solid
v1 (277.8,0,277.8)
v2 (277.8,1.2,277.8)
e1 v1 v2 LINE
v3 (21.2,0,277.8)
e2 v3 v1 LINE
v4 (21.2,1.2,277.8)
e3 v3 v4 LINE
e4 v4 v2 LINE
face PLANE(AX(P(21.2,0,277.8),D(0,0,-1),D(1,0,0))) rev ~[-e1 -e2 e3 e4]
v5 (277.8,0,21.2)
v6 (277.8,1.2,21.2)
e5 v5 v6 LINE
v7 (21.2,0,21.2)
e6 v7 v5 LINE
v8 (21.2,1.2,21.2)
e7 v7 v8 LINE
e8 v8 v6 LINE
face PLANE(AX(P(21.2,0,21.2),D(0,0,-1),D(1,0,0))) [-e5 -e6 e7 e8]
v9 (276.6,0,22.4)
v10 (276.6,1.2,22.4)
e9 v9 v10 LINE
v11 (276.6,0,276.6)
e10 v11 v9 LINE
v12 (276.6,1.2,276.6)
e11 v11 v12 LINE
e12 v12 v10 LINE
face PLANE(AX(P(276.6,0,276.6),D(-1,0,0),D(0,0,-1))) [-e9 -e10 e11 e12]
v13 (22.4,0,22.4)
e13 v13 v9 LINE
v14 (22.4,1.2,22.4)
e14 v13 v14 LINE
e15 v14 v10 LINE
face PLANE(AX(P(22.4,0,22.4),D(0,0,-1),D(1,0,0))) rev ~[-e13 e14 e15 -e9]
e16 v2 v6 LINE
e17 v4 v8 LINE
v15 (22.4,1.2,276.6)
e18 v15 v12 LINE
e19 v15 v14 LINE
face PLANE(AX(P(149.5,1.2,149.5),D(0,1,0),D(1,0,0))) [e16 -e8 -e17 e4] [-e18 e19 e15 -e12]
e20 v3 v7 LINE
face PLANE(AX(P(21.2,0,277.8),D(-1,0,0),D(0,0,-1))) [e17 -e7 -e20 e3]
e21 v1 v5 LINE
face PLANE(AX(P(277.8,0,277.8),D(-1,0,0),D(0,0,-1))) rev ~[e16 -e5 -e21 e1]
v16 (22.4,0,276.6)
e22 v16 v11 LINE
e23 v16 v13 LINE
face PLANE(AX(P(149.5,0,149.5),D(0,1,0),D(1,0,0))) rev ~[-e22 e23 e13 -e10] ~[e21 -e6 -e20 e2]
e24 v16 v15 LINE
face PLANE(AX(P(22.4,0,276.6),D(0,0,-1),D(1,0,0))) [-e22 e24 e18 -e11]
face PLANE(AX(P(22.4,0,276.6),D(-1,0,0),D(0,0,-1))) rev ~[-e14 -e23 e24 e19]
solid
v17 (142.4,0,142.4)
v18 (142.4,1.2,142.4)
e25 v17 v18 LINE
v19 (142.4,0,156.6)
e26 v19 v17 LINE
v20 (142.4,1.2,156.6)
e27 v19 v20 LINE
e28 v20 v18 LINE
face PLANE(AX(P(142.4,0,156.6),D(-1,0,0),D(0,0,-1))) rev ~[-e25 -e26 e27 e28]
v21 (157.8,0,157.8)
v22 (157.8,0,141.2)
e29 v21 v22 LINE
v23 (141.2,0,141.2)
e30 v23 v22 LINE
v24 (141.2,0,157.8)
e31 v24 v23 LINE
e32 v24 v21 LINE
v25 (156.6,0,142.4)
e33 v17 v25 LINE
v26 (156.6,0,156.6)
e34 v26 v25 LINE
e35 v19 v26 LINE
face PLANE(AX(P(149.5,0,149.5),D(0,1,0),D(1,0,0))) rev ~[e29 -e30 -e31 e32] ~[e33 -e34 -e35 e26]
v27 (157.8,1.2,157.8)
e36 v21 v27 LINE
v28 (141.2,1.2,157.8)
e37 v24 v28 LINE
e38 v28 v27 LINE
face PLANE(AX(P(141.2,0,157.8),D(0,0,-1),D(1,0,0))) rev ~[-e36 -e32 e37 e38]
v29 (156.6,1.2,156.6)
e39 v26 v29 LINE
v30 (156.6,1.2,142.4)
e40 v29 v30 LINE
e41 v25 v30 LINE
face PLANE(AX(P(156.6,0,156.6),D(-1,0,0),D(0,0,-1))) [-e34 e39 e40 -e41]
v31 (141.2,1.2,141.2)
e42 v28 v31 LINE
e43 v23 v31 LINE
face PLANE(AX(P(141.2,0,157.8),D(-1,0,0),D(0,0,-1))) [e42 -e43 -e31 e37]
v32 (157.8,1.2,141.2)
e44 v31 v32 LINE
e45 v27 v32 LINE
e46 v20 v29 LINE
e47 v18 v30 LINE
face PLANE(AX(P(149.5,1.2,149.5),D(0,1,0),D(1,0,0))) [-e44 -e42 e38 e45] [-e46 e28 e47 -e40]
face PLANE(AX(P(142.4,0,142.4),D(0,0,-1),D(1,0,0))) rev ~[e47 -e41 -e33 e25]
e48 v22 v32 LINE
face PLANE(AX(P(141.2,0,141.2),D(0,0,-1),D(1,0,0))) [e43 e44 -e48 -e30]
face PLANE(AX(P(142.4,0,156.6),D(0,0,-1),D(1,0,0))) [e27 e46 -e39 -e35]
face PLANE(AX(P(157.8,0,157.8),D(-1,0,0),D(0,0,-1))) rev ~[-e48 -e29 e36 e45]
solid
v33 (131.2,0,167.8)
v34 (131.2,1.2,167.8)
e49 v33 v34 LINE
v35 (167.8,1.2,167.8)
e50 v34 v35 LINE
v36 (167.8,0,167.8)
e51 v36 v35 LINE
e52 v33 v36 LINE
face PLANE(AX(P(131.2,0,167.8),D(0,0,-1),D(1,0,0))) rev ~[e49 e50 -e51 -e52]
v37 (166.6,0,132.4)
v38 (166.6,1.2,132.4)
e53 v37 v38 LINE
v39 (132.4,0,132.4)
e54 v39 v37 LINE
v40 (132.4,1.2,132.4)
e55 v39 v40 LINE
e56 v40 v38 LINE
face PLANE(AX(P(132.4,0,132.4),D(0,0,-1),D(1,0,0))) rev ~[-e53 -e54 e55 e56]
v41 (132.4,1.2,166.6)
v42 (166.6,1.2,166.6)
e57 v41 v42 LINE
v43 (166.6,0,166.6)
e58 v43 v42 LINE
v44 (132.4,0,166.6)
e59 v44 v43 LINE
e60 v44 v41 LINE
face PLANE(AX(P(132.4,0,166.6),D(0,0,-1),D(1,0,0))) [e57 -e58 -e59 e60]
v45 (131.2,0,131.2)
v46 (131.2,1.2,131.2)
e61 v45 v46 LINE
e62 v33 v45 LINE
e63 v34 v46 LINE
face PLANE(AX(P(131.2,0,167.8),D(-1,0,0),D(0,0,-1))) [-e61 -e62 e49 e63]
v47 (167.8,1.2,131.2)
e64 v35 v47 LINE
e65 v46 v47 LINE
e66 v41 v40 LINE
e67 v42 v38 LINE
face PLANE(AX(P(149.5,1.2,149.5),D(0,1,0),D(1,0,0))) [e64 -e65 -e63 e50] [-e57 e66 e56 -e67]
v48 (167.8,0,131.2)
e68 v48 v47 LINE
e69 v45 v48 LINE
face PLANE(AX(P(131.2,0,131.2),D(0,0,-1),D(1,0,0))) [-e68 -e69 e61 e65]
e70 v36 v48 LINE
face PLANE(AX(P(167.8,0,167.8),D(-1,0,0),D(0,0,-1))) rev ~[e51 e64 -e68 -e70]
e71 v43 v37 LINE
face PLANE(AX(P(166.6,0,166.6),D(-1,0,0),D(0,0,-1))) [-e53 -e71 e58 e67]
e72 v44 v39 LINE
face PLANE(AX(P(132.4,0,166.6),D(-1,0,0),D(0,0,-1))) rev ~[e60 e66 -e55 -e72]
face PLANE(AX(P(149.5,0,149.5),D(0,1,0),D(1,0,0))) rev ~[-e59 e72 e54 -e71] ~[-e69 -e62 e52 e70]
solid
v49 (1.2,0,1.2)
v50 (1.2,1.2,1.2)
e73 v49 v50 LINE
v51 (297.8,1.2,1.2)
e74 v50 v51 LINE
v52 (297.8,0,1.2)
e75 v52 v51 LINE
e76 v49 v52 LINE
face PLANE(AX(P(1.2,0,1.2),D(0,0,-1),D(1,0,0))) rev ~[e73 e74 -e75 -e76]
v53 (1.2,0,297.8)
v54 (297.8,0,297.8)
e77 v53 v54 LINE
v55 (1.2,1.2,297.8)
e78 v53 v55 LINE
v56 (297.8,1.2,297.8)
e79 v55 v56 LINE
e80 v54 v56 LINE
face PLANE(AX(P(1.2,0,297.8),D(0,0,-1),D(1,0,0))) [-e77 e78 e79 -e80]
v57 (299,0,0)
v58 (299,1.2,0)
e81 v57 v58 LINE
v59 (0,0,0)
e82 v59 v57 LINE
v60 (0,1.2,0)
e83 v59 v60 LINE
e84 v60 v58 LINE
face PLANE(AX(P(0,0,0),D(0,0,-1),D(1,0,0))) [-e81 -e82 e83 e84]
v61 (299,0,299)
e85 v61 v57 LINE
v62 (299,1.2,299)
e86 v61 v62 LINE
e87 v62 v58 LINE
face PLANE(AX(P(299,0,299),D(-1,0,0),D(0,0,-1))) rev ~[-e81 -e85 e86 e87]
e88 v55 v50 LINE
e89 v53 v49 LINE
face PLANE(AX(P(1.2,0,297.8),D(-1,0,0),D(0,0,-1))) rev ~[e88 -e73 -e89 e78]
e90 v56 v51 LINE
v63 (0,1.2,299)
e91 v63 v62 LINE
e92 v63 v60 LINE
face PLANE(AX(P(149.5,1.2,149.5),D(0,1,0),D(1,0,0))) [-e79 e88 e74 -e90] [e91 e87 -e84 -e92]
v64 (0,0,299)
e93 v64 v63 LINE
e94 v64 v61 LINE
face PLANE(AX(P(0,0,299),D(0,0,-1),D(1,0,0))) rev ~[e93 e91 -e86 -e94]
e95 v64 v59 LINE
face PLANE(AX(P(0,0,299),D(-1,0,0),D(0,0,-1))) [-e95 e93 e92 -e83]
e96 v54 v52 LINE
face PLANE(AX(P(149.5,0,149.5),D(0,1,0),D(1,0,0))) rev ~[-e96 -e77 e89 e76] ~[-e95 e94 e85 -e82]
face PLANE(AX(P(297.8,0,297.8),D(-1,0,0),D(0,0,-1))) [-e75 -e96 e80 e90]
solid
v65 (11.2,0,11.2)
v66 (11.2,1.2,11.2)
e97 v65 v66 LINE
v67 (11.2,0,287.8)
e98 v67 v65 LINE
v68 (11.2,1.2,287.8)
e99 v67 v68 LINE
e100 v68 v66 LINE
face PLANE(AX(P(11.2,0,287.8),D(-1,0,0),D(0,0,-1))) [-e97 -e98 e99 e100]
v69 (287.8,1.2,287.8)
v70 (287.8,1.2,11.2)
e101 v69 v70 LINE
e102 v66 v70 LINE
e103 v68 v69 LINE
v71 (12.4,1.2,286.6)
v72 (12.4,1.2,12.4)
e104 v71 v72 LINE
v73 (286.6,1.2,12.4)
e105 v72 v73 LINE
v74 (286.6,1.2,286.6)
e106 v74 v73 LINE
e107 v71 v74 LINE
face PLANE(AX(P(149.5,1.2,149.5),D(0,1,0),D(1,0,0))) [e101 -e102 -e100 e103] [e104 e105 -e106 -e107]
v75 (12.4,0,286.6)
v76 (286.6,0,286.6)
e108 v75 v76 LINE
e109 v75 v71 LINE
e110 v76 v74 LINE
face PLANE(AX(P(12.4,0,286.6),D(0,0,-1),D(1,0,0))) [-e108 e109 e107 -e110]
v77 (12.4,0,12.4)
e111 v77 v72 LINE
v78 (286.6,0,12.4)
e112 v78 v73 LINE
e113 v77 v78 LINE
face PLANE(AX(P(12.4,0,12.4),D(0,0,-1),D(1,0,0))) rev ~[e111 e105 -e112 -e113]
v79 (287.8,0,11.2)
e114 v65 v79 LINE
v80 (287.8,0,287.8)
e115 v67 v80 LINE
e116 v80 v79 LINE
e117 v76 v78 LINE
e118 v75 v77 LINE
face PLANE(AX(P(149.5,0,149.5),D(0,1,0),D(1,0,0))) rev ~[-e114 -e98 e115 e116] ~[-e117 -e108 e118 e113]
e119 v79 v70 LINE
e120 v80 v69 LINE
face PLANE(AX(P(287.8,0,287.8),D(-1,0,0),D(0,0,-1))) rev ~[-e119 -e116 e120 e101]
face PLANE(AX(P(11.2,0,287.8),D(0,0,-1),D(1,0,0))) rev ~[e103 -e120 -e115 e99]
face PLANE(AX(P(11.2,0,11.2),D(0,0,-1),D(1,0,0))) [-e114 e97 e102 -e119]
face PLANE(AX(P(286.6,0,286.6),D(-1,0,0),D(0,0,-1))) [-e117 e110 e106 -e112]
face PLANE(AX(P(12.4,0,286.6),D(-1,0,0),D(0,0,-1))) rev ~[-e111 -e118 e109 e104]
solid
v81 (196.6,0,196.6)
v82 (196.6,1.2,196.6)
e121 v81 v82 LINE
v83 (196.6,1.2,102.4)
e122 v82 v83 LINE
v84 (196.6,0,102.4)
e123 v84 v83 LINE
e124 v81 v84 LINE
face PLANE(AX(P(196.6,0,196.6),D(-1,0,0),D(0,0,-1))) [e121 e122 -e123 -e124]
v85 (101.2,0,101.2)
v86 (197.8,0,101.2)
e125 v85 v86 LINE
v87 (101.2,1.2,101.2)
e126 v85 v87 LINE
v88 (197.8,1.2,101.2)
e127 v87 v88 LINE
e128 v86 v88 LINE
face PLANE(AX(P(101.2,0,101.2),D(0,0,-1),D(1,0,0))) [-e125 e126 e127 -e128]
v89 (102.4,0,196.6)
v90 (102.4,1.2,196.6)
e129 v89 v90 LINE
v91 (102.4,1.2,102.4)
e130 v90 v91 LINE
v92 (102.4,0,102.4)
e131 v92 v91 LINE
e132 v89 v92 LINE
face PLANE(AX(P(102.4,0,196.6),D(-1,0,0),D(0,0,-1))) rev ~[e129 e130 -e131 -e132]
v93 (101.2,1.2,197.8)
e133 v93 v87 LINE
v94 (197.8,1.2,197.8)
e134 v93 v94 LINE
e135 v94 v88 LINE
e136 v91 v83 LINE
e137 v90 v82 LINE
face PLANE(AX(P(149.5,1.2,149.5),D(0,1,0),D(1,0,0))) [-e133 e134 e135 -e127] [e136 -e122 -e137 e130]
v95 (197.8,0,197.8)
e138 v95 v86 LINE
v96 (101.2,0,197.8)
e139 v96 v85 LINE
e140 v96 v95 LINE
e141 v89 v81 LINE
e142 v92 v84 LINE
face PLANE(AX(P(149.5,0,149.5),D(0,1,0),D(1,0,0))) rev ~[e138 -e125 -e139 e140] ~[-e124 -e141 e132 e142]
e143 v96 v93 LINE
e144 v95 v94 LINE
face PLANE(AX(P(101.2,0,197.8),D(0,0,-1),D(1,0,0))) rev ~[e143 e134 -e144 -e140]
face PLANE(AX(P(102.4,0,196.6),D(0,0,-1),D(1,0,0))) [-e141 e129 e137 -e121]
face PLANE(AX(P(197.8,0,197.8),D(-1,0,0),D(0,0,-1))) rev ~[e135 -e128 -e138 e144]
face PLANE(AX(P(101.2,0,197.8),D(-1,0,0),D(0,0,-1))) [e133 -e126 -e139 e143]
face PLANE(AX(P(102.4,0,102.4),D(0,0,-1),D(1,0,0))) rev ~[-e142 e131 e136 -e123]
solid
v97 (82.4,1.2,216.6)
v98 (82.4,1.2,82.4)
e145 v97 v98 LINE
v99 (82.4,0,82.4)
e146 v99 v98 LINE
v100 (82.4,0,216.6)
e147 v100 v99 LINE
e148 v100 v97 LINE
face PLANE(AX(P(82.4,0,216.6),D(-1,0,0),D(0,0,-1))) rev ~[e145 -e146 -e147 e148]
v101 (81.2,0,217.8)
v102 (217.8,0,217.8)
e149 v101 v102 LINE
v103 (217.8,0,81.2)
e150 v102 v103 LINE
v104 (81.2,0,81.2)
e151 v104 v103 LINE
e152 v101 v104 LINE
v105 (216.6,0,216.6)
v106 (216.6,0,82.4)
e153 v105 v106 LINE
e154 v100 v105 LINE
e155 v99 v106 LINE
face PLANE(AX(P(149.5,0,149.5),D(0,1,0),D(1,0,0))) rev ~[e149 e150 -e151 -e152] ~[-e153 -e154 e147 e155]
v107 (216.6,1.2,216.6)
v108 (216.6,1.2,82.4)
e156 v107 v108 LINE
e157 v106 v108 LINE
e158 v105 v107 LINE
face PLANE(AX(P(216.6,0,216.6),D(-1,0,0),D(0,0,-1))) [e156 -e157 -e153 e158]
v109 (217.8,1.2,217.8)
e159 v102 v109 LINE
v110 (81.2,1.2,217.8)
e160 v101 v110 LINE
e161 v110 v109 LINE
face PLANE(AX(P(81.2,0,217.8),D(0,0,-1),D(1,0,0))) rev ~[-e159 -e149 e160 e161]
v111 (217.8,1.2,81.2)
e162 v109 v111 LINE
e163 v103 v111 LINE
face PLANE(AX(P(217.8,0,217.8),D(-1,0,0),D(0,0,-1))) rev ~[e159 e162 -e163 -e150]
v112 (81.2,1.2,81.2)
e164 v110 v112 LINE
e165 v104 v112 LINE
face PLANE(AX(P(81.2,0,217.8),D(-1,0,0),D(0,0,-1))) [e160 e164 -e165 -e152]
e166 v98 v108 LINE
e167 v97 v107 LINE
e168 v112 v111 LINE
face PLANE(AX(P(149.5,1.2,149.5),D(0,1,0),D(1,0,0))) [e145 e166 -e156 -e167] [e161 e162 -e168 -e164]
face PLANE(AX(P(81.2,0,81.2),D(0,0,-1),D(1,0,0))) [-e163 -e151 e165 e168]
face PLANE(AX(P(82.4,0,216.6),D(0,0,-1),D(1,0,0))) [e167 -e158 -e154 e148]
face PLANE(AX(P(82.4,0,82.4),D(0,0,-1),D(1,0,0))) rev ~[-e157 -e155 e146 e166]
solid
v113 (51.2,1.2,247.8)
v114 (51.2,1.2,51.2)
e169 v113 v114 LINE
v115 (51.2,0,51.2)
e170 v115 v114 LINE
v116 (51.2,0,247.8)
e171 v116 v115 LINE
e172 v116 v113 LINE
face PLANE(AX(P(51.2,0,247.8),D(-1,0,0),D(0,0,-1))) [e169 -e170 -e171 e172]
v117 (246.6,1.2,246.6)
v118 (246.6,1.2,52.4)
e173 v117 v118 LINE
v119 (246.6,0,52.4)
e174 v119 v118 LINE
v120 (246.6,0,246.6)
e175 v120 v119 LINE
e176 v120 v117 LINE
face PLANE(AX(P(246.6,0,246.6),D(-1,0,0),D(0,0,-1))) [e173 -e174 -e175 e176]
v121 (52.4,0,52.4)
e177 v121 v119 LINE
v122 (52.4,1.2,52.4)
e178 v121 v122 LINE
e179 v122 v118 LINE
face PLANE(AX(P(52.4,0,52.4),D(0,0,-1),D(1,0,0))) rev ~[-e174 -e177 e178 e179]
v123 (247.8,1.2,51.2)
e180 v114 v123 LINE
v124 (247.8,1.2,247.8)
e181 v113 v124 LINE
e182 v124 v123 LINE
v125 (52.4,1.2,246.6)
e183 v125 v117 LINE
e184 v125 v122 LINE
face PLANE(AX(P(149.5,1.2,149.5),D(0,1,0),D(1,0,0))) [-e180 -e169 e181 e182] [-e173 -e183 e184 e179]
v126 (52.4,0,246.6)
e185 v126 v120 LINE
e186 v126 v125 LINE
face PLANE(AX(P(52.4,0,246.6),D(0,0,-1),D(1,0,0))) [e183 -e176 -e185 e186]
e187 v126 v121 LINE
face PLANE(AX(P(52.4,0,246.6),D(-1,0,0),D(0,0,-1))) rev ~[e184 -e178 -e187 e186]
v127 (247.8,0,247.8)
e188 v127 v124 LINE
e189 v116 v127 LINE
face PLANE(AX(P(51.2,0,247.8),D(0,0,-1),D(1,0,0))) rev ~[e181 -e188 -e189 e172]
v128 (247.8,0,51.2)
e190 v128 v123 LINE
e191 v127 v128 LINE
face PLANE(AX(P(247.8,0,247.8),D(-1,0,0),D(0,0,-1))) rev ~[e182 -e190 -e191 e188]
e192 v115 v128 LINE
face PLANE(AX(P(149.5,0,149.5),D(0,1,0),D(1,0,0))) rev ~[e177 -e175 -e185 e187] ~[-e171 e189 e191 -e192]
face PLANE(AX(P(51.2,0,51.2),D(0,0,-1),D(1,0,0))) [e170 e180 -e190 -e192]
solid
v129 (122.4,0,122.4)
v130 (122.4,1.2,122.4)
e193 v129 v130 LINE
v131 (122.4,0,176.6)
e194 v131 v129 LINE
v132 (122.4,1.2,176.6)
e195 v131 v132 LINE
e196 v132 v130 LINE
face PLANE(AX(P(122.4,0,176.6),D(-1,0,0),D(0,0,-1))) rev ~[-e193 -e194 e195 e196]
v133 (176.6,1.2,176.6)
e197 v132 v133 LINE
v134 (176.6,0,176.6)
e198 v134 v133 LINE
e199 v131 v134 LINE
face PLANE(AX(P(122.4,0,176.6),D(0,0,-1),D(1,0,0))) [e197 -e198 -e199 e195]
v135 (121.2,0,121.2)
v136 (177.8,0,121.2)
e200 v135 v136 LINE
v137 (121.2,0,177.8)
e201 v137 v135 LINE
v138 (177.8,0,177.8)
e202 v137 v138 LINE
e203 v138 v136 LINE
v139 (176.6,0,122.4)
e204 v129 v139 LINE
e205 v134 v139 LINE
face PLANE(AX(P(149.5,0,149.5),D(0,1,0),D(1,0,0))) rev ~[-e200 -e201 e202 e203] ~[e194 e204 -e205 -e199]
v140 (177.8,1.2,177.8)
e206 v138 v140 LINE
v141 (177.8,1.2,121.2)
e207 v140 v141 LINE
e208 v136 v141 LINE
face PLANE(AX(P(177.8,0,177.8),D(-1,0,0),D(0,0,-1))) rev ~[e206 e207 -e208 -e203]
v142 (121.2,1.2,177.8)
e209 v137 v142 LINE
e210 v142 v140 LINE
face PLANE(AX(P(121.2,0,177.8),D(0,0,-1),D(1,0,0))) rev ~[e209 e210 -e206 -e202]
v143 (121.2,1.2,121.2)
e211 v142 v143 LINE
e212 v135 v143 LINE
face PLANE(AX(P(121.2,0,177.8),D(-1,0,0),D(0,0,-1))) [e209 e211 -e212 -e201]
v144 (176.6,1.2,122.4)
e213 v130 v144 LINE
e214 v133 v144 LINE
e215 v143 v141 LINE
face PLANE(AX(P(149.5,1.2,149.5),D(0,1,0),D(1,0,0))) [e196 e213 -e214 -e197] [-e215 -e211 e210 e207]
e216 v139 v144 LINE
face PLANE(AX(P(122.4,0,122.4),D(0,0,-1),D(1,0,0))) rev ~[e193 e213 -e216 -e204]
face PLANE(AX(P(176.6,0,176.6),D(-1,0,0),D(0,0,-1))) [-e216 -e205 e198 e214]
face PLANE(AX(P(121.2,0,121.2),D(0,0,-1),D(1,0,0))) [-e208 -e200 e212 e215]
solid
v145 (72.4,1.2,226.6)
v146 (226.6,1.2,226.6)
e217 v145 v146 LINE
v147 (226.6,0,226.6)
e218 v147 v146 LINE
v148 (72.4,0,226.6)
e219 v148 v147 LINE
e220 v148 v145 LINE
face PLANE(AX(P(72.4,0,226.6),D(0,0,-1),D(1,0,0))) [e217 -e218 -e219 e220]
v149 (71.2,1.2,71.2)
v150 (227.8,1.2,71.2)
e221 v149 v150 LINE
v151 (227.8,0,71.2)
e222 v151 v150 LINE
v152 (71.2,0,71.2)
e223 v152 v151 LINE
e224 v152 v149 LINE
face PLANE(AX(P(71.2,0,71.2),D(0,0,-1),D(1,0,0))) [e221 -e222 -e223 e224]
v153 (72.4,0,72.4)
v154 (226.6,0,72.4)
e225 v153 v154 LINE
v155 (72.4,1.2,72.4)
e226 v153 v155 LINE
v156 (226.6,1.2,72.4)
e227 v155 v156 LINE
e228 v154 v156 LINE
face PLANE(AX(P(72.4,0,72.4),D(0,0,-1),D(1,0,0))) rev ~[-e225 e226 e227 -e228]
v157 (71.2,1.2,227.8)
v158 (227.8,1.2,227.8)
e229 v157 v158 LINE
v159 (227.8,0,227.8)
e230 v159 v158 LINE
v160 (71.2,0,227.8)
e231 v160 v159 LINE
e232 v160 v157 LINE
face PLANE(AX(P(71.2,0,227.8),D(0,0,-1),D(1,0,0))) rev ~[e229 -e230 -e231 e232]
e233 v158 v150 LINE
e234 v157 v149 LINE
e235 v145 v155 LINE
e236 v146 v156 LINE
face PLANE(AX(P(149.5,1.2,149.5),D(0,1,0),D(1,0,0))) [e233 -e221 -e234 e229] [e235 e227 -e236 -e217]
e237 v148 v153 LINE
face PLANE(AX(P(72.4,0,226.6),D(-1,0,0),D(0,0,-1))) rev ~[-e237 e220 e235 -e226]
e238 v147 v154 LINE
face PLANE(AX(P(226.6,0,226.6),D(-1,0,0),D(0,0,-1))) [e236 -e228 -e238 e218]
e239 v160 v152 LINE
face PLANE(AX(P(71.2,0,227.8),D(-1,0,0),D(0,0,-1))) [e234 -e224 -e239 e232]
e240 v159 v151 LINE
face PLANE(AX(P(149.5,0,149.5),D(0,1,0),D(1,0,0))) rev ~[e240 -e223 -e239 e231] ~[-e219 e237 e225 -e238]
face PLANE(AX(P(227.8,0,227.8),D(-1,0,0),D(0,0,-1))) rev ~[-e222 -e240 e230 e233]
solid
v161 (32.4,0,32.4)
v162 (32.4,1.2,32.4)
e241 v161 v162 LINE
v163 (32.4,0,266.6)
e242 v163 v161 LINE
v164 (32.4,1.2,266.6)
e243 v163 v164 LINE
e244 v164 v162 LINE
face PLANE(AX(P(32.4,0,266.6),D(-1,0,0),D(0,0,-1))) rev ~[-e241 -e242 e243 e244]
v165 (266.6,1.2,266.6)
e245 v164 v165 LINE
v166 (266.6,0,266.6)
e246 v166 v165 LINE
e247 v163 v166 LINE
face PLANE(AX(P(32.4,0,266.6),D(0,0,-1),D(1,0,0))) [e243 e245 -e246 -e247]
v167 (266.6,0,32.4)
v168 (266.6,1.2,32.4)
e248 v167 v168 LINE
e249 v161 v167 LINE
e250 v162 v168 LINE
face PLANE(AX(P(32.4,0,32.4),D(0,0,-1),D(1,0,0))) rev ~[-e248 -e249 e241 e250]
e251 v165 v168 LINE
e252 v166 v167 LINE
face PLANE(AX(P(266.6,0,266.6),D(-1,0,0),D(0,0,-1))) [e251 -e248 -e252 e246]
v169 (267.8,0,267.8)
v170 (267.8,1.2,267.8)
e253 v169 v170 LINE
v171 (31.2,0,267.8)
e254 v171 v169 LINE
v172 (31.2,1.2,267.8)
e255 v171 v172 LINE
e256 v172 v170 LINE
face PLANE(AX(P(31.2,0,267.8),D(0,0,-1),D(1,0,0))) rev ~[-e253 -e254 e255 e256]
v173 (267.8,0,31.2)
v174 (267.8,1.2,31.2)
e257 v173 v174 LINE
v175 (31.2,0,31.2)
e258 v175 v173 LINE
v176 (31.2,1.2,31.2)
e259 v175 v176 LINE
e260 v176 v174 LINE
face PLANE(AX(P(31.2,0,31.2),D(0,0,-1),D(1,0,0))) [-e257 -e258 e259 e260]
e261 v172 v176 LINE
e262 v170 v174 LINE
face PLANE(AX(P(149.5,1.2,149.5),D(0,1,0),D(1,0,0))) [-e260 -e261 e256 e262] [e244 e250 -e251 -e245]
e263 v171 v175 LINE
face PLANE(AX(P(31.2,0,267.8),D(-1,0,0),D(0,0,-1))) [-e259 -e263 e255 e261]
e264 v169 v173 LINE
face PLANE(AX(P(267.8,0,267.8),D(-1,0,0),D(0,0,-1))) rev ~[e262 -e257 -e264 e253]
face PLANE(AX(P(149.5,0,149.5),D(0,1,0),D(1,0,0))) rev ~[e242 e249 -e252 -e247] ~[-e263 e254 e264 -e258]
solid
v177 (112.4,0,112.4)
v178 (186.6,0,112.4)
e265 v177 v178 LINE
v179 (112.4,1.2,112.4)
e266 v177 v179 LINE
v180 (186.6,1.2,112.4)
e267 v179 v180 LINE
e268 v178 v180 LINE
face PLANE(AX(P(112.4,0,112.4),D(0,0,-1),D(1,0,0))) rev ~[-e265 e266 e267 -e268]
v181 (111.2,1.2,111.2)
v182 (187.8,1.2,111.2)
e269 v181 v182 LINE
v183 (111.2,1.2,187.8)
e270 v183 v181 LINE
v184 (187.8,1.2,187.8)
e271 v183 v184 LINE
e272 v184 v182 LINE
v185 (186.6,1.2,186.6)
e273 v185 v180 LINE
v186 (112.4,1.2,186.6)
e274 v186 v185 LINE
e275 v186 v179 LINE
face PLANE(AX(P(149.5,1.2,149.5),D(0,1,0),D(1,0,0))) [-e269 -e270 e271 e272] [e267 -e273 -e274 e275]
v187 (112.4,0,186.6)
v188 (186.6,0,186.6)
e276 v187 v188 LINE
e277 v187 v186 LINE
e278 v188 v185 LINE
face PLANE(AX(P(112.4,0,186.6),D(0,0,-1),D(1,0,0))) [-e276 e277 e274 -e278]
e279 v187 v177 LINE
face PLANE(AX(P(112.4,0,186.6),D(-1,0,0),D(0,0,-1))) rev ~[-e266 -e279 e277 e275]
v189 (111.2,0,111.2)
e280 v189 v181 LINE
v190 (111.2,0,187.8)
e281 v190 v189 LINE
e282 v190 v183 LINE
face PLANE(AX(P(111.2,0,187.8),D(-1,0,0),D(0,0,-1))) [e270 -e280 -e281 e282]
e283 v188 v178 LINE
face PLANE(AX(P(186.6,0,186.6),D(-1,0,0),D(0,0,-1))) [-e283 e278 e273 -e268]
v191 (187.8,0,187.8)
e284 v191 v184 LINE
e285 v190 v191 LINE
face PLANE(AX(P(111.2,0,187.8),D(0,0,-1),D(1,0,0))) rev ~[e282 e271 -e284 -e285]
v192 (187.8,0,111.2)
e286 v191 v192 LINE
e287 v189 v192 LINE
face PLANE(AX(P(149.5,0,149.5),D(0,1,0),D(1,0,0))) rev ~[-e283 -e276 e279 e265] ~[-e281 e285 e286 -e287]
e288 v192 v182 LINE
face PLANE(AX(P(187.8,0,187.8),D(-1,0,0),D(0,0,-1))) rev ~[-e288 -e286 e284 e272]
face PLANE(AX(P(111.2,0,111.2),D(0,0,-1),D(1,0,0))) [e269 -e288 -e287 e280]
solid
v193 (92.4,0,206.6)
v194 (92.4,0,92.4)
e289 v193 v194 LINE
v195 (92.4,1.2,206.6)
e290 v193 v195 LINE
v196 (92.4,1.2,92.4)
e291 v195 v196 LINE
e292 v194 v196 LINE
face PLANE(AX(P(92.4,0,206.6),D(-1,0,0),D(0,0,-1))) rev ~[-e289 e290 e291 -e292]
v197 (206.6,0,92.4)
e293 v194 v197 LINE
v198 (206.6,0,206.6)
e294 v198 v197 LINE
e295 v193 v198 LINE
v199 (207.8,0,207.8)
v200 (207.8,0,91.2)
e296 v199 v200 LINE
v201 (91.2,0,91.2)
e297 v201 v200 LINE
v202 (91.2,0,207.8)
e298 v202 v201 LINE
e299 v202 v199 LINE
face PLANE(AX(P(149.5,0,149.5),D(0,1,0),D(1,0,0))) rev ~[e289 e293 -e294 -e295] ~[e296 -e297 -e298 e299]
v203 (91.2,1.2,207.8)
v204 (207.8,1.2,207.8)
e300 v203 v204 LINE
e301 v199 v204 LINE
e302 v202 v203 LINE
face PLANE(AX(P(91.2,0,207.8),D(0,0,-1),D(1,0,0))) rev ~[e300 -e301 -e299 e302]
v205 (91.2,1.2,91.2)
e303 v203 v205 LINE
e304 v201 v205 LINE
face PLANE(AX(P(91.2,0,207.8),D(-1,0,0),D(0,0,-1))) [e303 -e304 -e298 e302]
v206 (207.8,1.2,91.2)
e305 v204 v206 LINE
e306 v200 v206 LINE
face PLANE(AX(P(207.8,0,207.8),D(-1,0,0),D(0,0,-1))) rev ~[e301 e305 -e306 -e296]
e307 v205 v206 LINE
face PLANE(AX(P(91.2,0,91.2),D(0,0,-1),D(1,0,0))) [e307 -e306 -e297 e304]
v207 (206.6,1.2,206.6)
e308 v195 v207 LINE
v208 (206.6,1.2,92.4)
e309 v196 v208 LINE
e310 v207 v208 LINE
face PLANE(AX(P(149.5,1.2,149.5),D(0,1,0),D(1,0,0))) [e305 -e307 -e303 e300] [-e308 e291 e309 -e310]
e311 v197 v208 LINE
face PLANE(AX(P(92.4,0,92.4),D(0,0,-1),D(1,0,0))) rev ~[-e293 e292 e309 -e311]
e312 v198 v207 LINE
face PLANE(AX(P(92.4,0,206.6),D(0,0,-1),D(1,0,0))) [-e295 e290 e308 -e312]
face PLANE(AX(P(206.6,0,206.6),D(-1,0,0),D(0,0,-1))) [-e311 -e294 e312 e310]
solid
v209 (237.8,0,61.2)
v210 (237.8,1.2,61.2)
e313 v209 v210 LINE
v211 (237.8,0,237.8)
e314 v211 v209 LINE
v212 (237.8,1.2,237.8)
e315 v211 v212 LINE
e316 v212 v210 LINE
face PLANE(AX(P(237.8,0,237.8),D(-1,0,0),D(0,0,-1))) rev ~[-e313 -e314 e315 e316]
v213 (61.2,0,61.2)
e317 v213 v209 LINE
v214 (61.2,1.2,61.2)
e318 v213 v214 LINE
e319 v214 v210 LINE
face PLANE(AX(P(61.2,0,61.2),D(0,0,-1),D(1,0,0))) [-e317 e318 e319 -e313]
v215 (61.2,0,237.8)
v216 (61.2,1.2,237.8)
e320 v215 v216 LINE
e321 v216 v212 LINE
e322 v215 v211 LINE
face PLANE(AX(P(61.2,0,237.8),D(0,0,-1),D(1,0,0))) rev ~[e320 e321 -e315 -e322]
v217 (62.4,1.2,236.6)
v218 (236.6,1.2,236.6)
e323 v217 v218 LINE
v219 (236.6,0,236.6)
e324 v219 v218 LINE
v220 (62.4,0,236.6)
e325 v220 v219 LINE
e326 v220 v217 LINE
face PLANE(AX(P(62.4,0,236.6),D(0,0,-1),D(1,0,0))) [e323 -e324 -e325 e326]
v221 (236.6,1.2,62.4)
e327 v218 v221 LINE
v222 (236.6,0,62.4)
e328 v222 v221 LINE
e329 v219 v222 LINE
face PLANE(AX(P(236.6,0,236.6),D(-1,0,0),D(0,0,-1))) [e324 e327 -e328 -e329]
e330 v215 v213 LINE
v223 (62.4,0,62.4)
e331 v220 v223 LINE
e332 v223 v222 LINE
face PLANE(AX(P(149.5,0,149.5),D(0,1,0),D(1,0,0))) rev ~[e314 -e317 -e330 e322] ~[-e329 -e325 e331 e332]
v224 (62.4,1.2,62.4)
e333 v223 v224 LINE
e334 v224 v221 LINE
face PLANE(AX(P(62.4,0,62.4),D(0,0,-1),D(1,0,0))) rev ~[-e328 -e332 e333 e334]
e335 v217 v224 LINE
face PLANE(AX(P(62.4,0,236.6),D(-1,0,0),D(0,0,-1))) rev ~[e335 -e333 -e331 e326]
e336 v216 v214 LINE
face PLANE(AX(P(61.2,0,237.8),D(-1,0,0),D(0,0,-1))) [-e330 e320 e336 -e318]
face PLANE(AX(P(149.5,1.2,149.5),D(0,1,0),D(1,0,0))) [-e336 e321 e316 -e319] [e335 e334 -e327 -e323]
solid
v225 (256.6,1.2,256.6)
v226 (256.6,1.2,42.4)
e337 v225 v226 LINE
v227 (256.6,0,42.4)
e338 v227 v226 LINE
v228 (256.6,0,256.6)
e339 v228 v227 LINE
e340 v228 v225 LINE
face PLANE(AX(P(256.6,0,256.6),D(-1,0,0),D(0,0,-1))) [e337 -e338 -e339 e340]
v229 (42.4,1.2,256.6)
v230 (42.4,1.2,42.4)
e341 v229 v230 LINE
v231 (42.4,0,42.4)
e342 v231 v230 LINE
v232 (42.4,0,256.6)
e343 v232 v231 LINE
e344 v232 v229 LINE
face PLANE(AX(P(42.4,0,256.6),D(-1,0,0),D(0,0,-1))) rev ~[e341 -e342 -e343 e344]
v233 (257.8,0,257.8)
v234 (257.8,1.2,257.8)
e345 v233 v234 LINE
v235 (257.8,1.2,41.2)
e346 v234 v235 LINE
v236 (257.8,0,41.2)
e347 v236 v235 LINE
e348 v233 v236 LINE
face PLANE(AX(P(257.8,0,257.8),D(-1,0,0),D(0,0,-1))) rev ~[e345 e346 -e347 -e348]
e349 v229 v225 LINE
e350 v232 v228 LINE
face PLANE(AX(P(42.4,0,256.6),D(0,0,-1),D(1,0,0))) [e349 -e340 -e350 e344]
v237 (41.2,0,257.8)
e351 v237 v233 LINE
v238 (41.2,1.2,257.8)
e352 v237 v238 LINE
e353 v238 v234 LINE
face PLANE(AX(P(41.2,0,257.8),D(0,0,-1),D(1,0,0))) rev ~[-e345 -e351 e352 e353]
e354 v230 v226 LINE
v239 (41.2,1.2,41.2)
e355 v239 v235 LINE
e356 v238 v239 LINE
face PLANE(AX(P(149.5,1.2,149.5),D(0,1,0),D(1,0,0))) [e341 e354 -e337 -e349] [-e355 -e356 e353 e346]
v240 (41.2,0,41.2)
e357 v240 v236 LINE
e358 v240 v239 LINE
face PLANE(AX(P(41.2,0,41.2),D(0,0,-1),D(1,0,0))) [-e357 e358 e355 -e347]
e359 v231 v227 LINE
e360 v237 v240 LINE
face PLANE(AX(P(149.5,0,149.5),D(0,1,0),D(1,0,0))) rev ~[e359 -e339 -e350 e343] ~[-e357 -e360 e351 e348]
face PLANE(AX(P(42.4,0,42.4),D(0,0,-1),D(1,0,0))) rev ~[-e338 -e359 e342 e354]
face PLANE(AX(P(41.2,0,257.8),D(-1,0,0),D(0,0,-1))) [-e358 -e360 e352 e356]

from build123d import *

# Parameters (mm, degrees)
SKETCH1_W              = 299
SKETCH1_H              = 299
SKETCH1_W_2            = 296.6
SKETCH1_H_2            = 296.6
BOSS_EXTRUDE2_DEPTH    = 1.2
SKETCH1_W_3            = 276.6
SKETCH1_H_3            = 276.6
SKETCH1_W_4            = 274.2
SKETCH1_H_4            = 274.2
BOSS_EXTRUDE2_2_DEPTH  = 1.2
SKETCH1_W_5            = 256.6
SKETCH1_H_5            = 256.6
SKETCH1_W_6            = 254.2
SKETCH1_H_6            = 254.2
BOSS_EXTRUDE2_3_DEPTH  = 1.2
SKETCH1_W_7            = 236.6
SKETCH1_H_7            = 236.6
SKETCH1_W_8            = 234.2
SKETCH1_H_8            = 234.2
BOSS_EXTRUDE2_4_DEPTH  = 1.2
SKETCH1_W_9            = 216.6
SKETCH1_H_9            = 216.6
SKETCH1_W_10           = 214.2
SKETCH1_H_10           = 214.2
BOSS_EXTRUDE2_5_DEPTH  = 1.2
SKETCH1_W_11           = 196.6
SKETCH1_H_11           = 196.6
SKETCH1_W_12           = 194.2
SKETCH1_H_12           = 194.2
BOSS_EXTRUDE2_6_DEPTH  = 1.2
SKETCH1_W_13           = 176.6
SKETCH1_H_13           = 176.6
SKETCH1_W_14           = 174.2
SKETCH1_H_14           = 174.2
BOSS_EXTRUDE2_7_DEPTH  = 1.2
SKETCH1_W_15           = 156.6
SKETCH1_H_15           = 156.6
SKETCH1_W_16           = 154.2
SKETCH1_H_16           = 154.2
BOSS_EXTRUDE2_8_DEPTH  = 1.2
SKETCH1_W_17           = 136.6
SKETCH1_H_17           = 136.6
SKETCH1_W_18           = 134.2
SKETCH1_H_18           = 134.2
BOSS_EXTRUDE2_9_DEPTH  = 1.2
SKETCH1_W_19           = 116.6
SKETCH1_H_19           = 116.6
SKETCH1_W_20           = 114.2
SKETCH1_H_20           = 114.2
BOSS_EXTRUDE2_10_DEPTH = 1.2
SKETCH1_W_21           = 96.6
SKETCH1_H_21           = 96.6
SKETCH1_W_22           = 94.2
SKETCH1_H_22           = 94.2
BOSS_EXTRUDE2_11_DEPTH = 1.2
SKETCH1_W_23           = 76.6
SKETCH1_H_23           = 76.6
SKETCH1_W_24           = 74.2
SKETCH1_H_24           = 74.2
BOSS_EXTRUDE2_12_DEPTH = 1.2
SKETCH1_W_25           = 56.6
SKETCH1_H_25           = 56.6
SKETCH1_W_26           = 54.2
SKETCH1_H_26           = 54.2
BOSS_EXTRUDE2_13_DEPTH = 1.2
SKETCH1_W_27           = 36.6
SKETCH1_H_27           = 36.6
SKETCH1_W_28           = 34.2
SKETCH1_H_28           = 34.2
BOSS_EXTRUDE2_14_DEPTH = 1.2
SKETCH1_W_29           = 16.6
SKETCH1_H_29           = 16.6
SKETCH1_W_30           = 14.2
SKETCH1_H_30           = 14.2
BOSS_EXTRUDE2_15_DEPTH = 1.2


with BuildPart() as part:
    # Sketch1 → Boss-Extrude2 (new body)
    with BuildSketch(Plane(origin=(0, 0, 0), x_dir=(1, 0, 0), z_dir=(0, 1, 0))):
        with Locations((149.5, -149.5)):
            Rectangle(SKETCH1_W, SKETCH1_H)
        with Locations((149.5, -149.5)):
            Rectangle(SKETCH1_W_2, SKETCH1_H_2, mode=Mode.SUBTRACT)
    extrude(amount=BOSS_EXTRUDE2_DEPTH)


with BuildPart() as body_2:
    # Sketch1 → Boss-Extrude2 2 (new body)
    with BuildSketch(Plane(origin=(0, 0, 0), x_dir=(1, 0, 0), z_dir=(0, 1, 0))):
        with Locations((149.5, -149.5)):
            Rectangle(SKETCH1_W_3, SKETCH1_H_3)
        with Locations((149.5, -149.5)):
            Rectangle(SKETCH1_W_4, SKETCH1_H_4, mode=Mode.SUBTRACT)
    extrude(amount=BOSS_EXTRUDE2_2_DEPTH)


with BuildPart() as body_3:
    # Sketch1 → Boss-Extrude2 3 (new body)
    with BuildSketch(Plane(origin=(0, 0, 0), x_dir=(1, 0, 0), z_dir=(0, 1, 0))):
        with Locations((149.5, -149.5)):
            Rectangle(SKETCH1_W_5, SKETCH1_H_5)
        with Locations((149.5, -149.5)):
            Rectangle(SKETCH1_W_6, SKETCH1_H_6, mode=Mode.SUBTRACT)
    extrude(amount=BOSS_EXTRUDE2_3_DEPTH)


with BuildPart() as body_4:
    # Sketch1 → Boss-Extrude2 4 (new body)
    with BuildSketch(Plane(origin=(0, 0, 0), x_dir=(1, 0, 0), z_dir=(0, 1, 0))):
        with Locations((149.5, -149.5)):
            Rectangle(SKETCH1_W_7, SKETCH1_H_7)
        with Locations((149.5, -149.5)):
            Rectangle(SKETCH1_W_8, SKETCH1_H_8, mode=Mode.SUBTRACT)
    extrude(amount=BOSS_EXTRUDE2_4_DEPTH)


with BuildPart() as body_5:
    # Sketch1 → Boss-Extrude2 5 (new body)
    with BuildSketch(Plane(origin=(0, 0, 0), x_dir=(1, 0, 0), z_dir=(0, 1, 0))):
        with Locations((149.5, -149.5)):
            Rectangle(SKETCH1_W_9, SKETCH1_H_9)
        with Locations((149.5, -149.5)):
            Rectangle(SKETCH1_W_10, SKETCH1_H_10, mode=Mode.SUBTRACT)
    extrude(amount=BOSS_EXTRUDE2_5_DEPTH)


with BuildPart() as body_6:
    # Sketch1 → Boss-Extrude2 6 (new body)
    with BuildSketch(Plane(origin=(0, 0, 0), x_dir=(1, 0, 0), z_dir=(0, 1, 0))):
        with Locations((149.5, -149.5)):
            Rectangle(SKETCH1_W_11, SKETCH1_H_11)
        with Locations((149.5, -149.5)):
            Rectangle(SKETCH1_W_12, SKETCH1_H_12, mode=Mode.SUBTRACT)
    extrude(amount=BOSS_EXTRUDE2_6_DEPTH)


with BuildPart() as body_7:
    # Sketch1 → Boss-Extrude2 7 (new body)
    with BuildSketch(Plane(origin=(0, 0, 0), x_dir=(1, 0, 0), z_dir=(0, 1, 0))):
        with Locations((149.5, -149.5)):
            Rectangle(SKETCH1_W_13, SKETCH1_H_13)
        with Locations((149.5, -149.5)):
            Rectangle(SKETCH1_W_14, SKETCH1_H_14, mode=Mode.SUBTRACT)
    extrude(amount=BOSS_EXTRUDE2_7_DEPTH)


with BuildPart() as body_8:
    # Sketch1 → Boss-Extrude2 8 (new body)
    with BuildSketch(Plane(origin=(0, 0, 0), x_dir=(1, 0, 0), z_dir=(0, 1, 0))):
        with Locations((149.5, -149.5)):
            Rectangle(SKETCH1_W_15, SKETCH1_H_15)
        with Locations((149.5, -149.5)):
            Rectangle(SKETCH1_W_16, SKETCH1_H_16, mode=Mode.SUBTRACT)
    extrude(amount=BOSS_EXTRUDE2_8_DEPTH)


with BuildPart() as body_9:
    # Sketch1 → Boss-Extrude2 9 (new body)
    with BuildSketch(Plane(origin=(0, 0, 0), x_dir=(1, 0, 0), z_dir=(0, 1, 0))):
        with Locations((149.5, -149.5)):
            Rectangle(SKETCH1_W_17, SKETCH1_H_17)
        with Locations((149.5, -149.5)):
            Rectangle(SKETCH1_W_18, SKETCH1_H_18, mode=Mode.SUBTRACT)
    extrude(amount=BOSS_EXTRUDE2_9_DEPTH)


with BuildPart() as body_10:
    # Sketch1 → Boss-Extrude2 10 (new body)
    with BuildSketch(Plane(origin=(0, 0, 0), x_dir=(1, 0, 0), z_dir=(0, 1, 0))):
        with Locations((149.5, -149.5)):
            Rectangle(SKETCH1_W_19, SKETCH1_H_19)
        with Locations((149.5, -149.5)):
            Rectangle(SKETCH1_W_20, SKETCH1_H_20, mode=Mode.SUBTRACT)
    extrude(amount=BOSS_EXTRUDE2_10_DEPTH)


with BuildPart() as body_11:
    # Sketch1 → Boss-Extrude2 11 (new body)
    with BuildSketch(Plane(origin=(0, 0, 0), x_dir=(1, 0, 0), z_dir=(0, 1, 0))):
        with Locations((149.5, -149.5)):
            Rectangle(SKETCH1_W_21, SKETCH1_H_21)
        with Locations((149.5, -149.5)):
            Rectangle(SKETCH1_W_22, SKETCH1_H_22, mode=Mode.SUBTRACT)
    extrude(amount=BOSS_EXTRUDE2_11_DEPTH)


with BuildPart() as body_12:
    # Sketch1 → Boss-Extrude2 12 (new body)
    with BuildSketch(Plane(origin=(0, 0, 0), x_dir=(1, 0, 0), z_dir=(0, 1, 0))):
        with Locations((149.5, -149.5)):
            Rectangle(SKETCH1_W_23, SKETCH1_H_23)
        with Locations((149.5, -149.5)):
            Rectangle(SKETCH1_W_24, SKETCH1_H_24, mode=Mode.SUBTRACT)
    extrude(amount=BOSS_EXTRUDE2_12_DEPTH)


with BuildPart() as body_13:
    # Sketch1 → Boss-Extrude2 13 (new body)
    with BuildSketch(Plane(origin=(0, 0, 0), x_dir=(1, 0, 0), z_dir=(0, 1, 0))):
        with Locations((149.5, -149.5)):
            Rectangle(SKETCH1_W_25, SKETCH1_H_25)
        with Locations((149.5, -149.5)):
            Rectangle(SKETCH1_W_26, SKETCH1_H_26, mode=Mode.SUBTRACT)
    extrude(amount=BOSS_EXTRUDE2_13_DEPTH)


with BuildPart() as body_14:
    # Sketch1 → Boss-Extrude2 14 (new body)
    with BuildSketch(Plane(origin=(0, 0, 0), x_dir=(1, 0, 0), z_dir=(0, 1, 0))):
        with Locations((149.5, -149.5)):
            Rectangle(SKETCH1_W_27, SKETCH1_H_27)
        with Locations((149.5, -149.5)):
            Rectangle(SKETCH1_W_28, SKETCH1_H_28, mode=Mode.SUBTRACT)
    extrude(amount=BOSS_EXTRUDE2_14_DEPTH)


with BuildPart() as body_15:
    # Sketch1 → Boss-Extrude2 15 (new body)
    with BuildSketch(Plane(origin=(0, 0, 0), x_dir=(1, 0, 0), z_dir=(0, 1, 0))):
        with Locations((149.5, -149.5)):
            Rectangle(SKETCH1_W_29, SKETCH1_H_29)
        with Locations((149.5, -149.5)):
            Rectangle(SKETCH1_W_30, SKETCH1_H_30, mode=Mode.SUBTRACT)
    extrude(amount=BOSS_EXTRUDE2_15_DEPTH)


solid = Compound([part.part, body_2.part, body_3.part, body_4.part, body_5.part, body_6.part, body_7.part, body_8.part, body_9.part, body_10.part, body_11.part, body_12.part, body_13.part, body_14.part, body_15.part])
